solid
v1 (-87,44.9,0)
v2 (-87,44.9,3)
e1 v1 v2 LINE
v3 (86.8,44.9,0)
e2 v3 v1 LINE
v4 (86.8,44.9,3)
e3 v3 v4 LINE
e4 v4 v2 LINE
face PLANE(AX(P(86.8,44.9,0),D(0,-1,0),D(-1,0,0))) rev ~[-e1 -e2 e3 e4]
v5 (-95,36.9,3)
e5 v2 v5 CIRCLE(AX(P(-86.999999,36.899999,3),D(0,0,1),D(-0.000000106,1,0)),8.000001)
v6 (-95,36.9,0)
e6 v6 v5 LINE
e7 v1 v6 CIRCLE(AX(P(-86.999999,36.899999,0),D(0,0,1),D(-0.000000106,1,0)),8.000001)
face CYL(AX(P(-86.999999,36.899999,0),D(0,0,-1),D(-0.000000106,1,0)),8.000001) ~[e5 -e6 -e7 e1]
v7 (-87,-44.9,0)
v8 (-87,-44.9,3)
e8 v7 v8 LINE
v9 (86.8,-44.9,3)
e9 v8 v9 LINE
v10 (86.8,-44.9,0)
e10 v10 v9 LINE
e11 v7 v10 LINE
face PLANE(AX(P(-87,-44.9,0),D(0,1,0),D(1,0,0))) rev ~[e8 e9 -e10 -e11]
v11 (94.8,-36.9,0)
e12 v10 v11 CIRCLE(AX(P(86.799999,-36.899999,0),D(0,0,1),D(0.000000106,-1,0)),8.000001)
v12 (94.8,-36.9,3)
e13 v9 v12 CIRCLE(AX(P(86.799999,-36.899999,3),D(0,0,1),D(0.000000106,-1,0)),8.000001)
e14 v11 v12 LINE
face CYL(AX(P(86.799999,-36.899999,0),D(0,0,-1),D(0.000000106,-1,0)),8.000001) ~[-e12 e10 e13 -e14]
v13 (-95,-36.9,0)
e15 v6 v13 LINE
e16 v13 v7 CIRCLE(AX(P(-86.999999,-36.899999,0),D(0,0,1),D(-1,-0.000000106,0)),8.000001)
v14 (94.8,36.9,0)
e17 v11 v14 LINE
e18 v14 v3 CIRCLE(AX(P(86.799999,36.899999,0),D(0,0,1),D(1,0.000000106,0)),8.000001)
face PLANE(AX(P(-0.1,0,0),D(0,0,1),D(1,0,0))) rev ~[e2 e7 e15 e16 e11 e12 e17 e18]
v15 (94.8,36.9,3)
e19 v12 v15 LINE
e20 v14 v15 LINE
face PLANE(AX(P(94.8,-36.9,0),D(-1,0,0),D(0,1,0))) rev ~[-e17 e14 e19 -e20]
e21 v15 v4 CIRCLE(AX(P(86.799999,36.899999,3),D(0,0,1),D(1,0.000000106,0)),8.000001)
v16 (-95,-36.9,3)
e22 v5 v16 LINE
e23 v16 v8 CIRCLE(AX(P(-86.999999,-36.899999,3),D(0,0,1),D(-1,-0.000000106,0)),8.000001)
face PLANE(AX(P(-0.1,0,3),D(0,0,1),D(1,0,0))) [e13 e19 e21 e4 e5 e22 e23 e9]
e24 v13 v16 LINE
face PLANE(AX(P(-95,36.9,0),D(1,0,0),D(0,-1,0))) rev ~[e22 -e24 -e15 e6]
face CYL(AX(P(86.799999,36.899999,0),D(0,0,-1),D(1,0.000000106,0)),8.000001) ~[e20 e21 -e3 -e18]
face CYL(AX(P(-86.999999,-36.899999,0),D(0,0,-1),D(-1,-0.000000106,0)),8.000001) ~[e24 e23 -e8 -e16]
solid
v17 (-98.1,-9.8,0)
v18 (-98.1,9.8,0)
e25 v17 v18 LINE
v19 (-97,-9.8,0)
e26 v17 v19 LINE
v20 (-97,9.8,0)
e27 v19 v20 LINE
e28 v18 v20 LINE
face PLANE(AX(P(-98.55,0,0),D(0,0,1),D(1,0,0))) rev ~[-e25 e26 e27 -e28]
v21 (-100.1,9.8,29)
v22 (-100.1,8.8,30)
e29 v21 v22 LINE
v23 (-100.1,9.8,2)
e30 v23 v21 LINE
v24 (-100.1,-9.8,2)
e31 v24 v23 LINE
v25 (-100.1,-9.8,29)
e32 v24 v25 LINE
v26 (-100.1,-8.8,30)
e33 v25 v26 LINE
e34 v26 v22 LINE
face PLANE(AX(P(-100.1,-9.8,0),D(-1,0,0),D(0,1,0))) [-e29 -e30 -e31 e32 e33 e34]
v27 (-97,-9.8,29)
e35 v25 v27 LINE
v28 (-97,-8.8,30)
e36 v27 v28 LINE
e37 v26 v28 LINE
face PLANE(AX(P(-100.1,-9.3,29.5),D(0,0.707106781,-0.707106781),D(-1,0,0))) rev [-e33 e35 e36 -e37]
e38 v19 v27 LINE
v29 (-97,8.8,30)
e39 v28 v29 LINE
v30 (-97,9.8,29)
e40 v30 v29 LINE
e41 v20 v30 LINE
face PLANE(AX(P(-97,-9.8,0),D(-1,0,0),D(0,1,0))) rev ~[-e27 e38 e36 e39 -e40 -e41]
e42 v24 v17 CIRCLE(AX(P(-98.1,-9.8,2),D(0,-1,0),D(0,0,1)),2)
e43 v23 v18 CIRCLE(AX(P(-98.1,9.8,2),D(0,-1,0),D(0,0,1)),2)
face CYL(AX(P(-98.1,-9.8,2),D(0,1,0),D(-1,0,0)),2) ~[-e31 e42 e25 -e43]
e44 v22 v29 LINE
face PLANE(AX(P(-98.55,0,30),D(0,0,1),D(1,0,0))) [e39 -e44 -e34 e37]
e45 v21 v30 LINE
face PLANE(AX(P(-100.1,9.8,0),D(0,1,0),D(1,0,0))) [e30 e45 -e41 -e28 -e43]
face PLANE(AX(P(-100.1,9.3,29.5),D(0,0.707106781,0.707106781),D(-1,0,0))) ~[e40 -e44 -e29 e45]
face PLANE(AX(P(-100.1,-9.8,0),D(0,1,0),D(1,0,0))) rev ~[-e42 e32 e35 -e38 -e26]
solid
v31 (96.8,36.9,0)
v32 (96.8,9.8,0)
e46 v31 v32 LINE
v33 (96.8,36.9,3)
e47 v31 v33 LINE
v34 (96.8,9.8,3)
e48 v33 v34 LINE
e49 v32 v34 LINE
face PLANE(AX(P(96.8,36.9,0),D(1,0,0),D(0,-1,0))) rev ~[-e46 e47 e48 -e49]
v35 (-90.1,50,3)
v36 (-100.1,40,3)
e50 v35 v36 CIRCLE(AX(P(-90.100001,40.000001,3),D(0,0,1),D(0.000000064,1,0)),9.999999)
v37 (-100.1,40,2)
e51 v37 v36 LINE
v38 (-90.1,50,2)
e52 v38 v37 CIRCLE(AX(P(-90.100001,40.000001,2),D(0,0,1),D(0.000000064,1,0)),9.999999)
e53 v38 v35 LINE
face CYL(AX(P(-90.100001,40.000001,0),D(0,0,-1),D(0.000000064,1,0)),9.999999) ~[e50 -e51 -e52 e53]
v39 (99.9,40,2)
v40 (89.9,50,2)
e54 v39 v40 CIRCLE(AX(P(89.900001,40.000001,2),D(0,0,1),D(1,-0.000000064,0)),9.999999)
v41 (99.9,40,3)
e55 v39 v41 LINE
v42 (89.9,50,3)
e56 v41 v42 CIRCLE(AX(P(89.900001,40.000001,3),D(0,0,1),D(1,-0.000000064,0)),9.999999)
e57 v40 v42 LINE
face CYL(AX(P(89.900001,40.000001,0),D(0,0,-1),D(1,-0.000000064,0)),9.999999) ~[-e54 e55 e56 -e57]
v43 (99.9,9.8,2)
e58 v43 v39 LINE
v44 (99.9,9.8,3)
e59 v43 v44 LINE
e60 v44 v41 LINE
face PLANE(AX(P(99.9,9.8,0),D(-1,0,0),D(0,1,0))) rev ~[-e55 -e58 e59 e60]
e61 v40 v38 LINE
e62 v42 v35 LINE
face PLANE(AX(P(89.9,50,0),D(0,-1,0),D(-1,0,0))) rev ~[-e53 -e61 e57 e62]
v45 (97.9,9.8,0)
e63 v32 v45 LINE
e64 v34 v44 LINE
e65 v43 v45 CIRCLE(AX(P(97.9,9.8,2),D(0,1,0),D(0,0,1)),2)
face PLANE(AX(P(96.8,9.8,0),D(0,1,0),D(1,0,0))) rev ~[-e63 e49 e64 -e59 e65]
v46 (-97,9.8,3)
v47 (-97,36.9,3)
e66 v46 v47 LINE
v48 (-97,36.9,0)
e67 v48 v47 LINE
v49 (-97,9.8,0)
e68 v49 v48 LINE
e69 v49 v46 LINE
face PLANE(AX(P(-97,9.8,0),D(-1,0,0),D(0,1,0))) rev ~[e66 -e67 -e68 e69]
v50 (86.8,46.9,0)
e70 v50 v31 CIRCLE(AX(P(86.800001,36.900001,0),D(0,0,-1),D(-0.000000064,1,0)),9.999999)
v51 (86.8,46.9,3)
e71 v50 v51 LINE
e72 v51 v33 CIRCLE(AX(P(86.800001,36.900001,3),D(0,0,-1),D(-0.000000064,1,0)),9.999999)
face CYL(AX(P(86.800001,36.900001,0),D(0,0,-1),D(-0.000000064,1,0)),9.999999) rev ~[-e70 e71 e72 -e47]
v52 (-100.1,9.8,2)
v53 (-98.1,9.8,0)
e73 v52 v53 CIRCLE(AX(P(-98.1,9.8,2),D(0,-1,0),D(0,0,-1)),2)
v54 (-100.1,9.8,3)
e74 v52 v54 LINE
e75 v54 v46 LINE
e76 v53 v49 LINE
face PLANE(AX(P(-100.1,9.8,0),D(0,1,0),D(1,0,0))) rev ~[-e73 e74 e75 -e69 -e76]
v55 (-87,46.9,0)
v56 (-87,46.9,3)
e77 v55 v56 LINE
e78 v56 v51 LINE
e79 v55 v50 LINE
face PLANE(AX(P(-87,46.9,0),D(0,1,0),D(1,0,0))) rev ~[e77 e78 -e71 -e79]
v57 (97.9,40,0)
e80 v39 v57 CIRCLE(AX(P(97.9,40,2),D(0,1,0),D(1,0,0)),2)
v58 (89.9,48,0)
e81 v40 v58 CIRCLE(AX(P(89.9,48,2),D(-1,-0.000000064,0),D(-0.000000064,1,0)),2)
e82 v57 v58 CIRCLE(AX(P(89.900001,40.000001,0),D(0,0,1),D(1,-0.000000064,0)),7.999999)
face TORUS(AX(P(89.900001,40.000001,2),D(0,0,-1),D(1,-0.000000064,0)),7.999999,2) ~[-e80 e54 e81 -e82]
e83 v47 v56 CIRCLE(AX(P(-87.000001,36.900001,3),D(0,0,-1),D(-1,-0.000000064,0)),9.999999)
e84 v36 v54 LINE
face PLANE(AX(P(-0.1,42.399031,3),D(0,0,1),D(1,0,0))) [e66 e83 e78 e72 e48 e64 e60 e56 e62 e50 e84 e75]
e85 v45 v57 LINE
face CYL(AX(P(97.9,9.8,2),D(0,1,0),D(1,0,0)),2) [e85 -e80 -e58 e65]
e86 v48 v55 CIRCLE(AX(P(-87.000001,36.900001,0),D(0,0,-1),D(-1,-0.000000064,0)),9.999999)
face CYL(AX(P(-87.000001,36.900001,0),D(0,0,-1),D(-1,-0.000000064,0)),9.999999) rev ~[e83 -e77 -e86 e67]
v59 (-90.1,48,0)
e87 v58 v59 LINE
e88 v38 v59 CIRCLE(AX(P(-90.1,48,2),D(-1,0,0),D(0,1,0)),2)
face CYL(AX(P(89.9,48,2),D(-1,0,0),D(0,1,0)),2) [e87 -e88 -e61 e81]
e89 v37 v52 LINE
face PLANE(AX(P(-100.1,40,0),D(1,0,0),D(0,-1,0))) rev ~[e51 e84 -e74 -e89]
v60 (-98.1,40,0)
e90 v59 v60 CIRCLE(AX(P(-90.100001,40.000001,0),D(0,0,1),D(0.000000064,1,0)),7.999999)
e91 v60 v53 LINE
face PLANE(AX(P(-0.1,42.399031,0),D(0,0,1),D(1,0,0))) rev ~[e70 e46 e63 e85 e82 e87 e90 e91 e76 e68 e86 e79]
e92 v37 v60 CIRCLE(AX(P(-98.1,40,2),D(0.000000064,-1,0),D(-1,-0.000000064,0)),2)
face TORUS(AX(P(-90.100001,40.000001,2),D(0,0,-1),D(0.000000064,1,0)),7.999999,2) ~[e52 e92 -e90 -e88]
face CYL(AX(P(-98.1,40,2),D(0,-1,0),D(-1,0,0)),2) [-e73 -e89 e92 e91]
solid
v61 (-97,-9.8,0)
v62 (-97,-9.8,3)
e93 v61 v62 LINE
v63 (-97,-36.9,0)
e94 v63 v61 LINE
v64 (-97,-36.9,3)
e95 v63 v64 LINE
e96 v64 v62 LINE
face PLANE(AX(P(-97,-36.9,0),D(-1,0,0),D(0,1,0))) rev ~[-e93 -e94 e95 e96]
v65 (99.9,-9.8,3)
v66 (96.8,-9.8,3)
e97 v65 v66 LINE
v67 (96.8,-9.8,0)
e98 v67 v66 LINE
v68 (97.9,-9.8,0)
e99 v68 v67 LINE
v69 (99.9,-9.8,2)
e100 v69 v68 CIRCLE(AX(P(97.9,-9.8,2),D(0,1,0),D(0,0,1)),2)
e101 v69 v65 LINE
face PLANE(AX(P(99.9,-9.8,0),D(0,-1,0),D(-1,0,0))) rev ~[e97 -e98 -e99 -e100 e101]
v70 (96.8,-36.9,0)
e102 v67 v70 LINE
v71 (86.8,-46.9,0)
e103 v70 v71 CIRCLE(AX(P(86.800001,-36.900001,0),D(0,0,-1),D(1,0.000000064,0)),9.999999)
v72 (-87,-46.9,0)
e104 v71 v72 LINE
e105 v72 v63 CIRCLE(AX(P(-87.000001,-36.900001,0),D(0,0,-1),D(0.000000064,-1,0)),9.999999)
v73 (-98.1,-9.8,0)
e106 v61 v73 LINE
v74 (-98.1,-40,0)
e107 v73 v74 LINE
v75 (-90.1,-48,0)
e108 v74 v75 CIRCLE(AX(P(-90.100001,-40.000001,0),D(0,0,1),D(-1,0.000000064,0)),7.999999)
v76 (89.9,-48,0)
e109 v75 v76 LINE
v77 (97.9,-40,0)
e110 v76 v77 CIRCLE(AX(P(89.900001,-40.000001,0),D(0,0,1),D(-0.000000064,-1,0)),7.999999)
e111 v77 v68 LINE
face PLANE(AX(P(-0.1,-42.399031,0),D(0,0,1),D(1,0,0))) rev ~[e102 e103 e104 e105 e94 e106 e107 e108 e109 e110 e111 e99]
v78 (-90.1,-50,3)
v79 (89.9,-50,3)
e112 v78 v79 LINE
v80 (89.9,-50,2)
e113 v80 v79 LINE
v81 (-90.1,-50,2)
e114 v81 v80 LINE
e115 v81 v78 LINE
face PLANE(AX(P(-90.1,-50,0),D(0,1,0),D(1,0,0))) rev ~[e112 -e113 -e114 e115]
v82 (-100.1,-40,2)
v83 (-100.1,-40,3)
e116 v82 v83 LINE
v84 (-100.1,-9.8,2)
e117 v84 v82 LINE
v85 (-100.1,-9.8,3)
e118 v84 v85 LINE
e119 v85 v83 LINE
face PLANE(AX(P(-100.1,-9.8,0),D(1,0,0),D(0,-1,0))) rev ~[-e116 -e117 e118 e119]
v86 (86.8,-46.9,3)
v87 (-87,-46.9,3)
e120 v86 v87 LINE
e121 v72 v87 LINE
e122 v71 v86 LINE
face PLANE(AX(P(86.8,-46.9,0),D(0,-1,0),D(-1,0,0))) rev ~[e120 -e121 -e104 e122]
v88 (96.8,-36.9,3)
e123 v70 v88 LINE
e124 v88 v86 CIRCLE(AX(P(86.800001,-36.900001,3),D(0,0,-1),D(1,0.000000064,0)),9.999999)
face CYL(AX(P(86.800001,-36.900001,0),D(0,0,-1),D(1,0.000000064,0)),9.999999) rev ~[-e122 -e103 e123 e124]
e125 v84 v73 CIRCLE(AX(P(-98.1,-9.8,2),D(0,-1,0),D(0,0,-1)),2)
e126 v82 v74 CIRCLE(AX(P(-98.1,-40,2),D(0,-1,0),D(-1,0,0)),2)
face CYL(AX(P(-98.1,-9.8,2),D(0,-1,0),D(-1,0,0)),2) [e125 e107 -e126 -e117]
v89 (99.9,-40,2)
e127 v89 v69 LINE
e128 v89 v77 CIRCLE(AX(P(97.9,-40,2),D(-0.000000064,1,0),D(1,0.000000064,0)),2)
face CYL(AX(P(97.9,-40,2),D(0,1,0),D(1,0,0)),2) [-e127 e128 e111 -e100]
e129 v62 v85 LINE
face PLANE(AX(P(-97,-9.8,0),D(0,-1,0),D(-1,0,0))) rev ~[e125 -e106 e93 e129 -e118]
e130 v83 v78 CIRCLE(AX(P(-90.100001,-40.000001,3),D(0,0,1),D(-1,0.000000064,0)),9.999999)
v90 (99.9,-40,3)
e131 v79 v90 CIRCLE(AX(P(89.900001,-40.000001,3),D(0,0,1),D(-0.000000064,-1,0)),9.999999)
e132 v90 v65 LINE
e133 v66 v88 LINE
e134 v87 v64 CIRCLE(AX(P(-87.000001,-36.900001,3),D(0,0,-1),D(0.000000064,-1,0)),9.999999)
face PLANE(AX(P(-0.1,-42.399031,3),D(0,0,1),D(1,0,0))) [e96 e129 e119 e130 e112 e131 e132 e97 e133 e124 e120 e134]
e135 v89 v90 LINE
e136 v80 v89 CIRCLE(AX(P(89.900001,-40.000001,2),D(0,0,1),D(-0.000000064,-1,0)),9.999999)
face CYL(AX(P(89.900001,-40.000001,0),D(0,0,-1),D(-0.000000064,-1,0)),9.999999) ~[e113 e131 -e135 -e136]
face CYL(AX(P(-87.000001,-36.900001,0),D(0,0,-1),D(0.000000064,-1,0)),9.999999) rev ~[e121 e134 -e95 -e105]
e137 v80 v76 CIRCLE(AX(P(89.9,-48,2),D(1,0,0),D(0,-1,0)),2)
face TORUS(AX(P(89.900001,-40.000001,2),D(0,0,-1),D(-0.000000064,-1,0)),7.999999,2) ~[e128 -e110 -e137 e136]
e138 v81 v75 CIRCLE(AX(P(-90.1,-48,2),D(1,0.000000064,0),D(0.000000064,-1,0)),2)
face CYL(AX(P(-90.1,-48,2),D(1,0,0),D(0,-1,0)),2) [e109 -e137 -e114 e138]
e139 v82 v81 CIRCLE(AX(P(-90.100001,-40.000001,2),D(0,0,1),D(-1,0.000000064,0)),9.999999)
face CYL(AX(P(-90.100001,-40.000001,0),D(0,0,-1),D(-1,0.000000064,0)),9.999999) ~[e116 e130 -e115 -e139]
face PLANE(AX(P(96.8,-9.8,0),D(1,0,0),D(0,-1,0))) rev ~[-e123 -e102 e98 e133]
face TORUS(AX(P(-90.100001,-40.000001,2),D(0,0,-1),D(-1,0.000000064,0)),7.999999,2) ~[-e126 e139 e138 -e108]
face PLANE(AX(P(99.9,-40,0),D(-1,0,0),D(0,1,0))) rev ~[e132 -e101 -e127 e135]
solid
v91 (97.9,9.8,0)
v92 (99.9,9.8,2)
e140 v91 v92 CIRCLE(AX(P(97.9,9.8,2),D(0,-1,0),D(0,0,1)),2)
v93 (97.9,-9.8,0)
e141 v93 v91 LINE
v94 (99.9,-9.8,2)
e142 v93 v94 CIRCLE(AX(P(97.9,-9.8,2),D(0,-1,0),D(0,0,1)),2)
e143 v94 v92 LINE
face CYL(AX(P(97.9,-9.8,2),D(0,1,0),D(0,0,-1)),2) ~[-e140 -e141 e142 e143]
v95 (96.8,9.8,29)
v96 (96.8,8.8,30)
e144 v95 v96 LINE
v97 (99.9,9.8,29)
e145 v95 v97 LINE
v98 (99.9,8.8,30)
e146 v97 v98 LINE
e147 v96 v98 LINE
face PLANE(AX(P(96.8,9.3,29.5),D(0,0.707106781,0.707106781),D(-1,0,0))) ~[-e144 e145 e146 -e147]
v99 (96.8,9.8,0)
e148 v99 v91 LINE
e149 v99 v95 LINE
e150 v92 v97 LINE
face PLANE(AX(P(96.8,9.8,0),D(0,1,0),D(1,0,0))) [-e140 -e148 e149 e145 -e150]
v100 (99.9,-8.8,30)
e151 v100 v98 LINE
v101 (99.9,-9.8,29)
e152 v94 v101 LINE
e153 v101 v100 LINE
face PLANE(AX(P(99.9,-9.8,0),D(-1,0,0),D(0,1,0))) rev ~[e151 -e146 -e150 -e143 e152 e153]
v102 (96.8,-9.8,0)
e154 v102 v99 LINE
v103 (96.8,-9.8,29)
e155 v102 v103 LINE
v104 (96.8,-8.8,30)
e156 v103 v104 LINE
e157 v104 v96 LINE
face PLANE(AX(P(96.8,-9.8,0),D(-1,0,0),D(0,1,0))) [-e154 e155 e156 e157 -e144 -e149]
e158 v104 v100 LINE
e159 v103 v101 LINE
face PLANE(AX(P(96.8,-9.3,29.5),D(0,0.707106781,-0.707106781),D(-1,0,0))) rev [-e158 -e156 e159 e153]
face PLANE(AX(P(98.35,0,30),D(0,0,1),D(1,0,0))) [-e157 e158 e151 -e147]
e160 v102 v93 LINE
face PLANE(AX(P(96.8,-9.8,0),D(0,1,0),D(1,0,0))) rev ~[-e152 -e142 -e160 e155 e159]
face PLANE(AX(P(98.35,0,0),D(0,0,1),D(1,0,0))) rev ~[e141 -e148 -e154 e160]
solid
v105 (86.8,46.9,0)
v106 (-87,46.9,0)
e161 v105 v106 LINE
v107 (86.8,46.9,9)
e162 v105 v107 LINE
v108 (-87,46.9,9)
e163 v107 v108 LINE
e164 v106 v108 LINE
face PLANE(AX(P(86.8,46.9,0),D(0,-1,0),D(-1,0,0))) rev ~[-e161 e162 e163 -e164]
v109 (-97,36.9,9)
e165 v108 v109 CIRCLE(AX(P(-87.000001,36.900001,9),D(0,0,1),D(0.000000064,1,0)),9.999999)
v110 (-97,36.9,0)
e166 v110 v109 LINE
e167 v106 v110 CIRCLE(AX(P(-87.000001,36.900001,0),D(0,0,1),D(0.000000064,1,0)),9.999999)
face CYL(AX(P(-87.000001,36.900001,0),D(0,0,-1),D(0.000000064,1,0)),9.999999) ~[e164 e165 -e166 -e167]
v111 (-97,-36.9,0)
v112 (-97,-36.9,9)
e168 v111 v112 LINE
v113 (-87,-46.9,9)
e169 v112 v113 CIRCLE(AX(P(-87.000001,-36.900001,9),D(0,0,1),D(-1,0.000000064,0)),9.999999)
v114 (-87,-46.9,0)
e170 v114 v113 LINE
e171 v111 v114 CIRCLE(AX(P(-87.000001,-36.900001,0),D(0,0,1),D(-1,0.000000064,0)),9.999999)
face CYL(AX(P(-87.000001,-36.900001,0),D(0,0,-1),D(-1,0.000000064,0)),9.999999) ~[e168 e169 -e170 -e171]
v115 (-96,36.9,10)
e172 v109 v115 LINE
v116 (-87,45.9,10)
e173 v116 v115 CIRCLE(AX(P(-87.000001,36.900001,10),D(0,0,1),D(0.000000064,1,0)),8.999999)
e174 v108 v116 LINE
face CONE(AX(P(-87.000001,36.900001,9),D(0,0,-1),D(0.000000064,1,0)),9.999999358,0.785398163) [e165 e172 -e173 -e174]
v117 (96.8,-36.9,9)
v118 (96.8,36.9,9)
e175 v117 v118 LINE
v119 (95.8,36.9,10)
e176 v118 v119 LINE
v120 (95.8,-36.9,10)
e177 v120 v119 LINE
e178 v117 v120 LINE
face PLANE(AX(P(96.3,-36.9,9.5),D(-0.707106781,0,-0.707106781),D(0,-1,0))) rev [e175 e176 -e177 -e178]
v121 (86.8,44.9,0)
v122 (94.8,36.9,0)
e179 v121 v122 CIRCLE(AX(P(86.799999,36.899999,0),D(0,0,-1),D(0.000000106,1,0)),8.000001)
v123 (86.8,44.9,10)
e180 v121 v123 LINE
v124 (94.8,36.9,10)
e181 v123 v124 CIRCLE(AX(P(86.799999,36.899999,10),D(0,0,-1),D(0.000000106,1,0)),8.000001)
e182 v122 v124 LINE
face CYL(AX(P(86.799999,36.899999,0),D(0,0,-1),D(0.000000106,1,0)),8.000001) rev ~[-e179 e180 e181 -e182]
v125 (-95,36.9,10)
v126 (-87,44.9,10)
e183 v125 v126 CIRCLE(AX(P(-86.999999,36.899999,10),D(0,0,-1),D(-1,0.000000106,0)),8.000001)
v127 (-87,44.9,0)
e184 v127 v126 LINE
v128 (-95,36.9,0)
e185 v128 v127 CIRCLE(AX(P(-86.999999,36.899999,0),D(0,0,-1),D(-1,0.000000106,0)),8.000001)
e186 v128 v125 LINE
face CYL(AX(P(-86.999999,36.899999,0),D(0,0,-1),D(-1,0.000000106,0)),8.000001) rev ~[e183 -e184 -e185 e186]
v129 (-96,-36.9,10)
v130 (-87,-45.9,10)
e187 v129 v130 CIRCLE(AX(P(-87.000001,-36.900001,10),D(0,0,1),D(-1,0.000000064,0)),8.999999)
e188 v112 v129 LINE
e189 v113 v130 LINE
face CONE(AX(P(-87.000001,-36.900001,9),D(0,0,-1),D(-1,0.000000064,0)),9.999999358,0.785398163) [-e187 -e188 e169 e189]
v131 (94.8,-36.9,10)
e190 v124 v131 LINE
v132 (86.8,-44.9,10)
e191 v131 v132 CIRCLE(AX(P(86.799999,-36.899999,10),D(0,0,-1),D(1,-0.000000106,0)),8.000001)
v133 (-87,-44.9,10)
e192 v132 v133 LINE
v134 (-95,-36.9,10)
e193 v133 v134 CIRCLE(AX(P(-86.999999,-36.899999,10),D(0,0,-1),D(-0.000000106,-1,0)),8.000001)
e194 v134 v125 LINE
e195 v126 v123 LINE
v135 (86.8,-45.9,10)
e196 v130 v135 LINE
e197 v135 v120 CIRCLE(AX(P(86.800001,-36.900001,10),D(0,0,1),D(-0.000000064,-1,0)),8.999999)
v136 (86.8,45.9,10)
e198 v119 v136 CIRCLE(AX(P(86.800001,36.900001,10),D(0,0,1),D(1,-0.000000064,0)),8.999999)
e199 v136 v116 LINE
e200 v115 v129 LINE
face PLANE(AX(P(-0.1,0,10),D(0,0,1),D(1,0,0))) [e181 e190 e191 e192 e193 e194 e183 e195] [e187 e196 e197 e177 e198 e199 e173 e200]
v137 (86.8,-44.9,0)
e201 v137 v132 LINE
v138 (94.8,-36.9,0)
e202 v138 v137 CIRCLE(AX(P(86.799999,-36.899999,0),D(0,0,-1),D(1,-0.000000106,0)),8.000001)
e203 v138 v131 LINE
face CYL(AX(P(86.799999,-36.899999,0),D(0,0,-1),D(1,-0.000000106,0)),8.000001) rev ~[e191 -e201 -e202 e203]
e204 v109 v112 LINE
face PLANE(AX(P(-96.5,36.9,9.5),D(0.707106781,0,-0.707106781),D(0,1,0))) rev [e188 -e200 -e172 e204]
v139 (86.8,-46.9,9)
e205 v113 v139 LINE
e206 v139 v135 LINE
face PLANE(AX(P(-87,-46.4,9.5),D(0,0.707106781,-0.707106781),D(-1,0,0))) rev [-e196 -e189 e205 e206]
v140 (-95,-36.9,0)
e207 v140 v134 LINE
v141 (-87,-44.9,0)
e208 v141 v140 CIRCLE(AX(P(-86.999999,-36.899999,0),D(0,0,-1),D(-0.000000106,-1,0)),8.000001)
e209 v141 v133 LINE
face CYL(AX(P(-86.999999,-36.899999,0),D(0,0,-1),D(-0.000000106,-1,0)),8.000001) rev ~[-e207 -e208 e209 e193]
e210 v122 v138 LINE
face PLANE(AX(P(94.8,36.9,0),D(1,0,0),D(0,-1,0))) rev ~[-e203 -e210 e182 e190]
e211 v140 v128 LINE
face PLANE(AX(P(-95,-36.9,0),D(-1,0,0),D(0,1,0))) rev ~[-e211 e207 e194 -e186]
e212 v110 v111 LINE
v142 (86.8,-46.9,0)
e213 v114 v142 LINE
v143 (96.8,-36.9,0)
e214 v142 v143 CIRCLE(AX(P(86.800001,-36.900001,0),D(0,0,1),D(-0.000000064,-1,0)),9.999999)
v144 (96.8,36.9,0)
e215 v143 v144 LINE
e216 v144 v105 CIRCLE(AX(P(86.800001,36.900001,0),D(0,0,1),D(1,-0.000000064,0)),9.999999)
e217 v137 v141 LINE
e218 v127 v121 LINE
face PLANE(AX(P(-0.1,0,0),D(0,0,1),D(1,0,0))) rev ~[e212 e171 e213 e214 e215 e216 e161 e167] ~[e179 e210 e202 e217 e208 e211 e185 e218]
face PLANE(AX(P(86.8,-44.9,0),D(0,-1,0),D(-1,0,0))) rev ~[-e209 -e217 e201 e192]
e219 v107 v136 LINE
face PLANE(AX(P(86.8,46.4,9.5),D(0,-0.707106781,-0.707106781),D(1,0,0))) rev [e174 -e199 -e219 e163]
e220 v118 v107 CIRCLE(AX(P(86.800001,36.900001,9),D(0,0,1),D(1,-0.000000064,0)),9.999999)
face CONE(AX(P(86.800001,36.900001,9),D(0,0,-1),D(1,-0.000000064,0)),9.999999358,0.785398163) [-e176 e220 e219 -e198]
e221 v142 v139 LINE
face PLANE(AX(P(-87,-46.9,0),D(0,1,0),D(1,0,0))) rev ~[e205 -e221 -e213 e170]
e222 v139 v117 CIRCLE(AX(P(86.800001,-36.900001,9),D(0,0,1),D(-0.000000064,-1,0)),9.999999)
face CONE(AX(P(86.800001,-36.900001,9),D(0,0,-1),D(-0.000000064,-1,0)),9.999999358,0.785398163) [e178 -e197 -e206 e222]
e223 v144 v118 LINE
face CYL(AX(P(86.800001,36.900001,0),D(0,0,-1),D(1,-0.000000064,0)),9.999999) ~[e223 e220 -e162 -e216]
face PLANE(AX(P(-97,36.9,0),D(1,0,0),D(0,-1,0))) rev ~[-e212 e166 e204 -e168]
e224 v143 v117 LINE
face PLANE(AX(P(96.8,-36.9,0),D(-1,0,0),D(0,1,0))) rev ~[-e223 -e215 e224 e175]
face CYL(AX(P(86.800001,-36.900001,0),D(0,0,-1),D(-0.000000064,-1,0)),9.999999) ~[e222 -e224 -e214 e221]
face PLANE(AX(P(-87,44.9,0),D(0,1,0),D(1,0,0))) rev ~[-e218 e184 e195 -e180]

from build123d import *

# Parameters (mm, degrees)
F1_DEPTH  = 3
F2_DEPTH  = 10
F0_W      = 3.1
F0_H      = 19.6
F3_DEPTH  = 30
F4_SIZE   = 1
F4_2_SIZE = 1
F5_R      = 2
F5_2_R    = 2


with BuildPart() as f1:
    # F0 (on Top) → F1 (new body)
    with BuildSketch(Plane.XY):
        with BuildLine():
            Line((96.8, 36.9), (96.8, 9.8))
            Line((96.8, 9.8), (99.9, 9.8))
            Line((99.9, 9.8), (99.9, 40))
            ThreePointArc((99.9, 40), (96.971068, 47.071068), (89.9, 50))
            Line((89.9, 50), (-90.1, 50))
            ThreePointArc((-90.1, 50), (-97.171068, 47.071068), (-100.1, 40))
            Line((-100.1, 40), (-100.1, 9.8))
            Line((-100.1, 9.8), (-97, 9.8))
            Line((-97, 9.8), (-97, 36.9))
            ThreePointArc((-97, 36.9), (-94.071068, 43.971068), (-87, 46.9))
            Line((-87, 46.9), (86.8, 46.9))
            ThreePointArc((86.8, 46.9), (93.871068, 43.971068), (96.8, 36.9))
        make_face()
        with BuildLine():
            ThreePointArc((94.8, 36.9), (92.456854, 42.556854), (86.8, 44.9))
            Line((86.8, 44.9), (-87, 44.9))
            ThreePointArc((-87, 44.9), (-92.656854, 42.556854), (-95, 36.9))
            Line((-95, 36.9), (-95, -36.9))
            ThreePointArc((-95, -36.9), (-92.656854, -42.556854), (-87, -44.9))
            Line((-87, -44.9), (86.8, -44.9))
            ThreePointArc((86.8, -44.9), (92.456854, -42.556854), (94.8, -36.9))
            Line((94.8, -36.9), (94.8, 36.9))
        make_face()
        with BuildLine():
            ThreePointArc((96.8, -36.9), (93.871068, -43.971068), (86.8, -46.9))
            Line((86.8, -46.9), (-87, -46.9))
            ThreePointArc((-87, -46.9), (-94.071068, -43.971068), (-97, -36.9))
            Line((-97, -36.9), (-97, -9.8))
            Line((-97, -9.8), (-100.1, -9.8))
            Line((-100.1, -9.8), (-100.1, -40))
            ThreePointArc((-100.1, -40), (-97.171068, -47.071068), (-90.1, -50))
            Line((-90.1, -50), (89.9, -50))
            ThreePointArc((89.9, -50), (96.971068, -47.071068), (99.9, -40))
            Line((99.9, -40), (99.9, -9.8))
            Line((99.9, -9.8), (96.8, -9.8))
            Line((96.8, -9.8), (96.8, -36.9))
        make_face()
    extrude(amount=F1_DEPTH)

    # F5
    f5_edges = [f1.edges().sort_by_distance(p)[0] for p in [
        (99.9, -24.9, 0),
        (99.9, 24.9, 0),
    ]]
    fillet(f5_edges, radius=F5_R)


with BuildPart() as f2:
    # F0 (on Top) → F2 (new body)
    with BuildSketch(Plane.XY):
        with BuildLine():
            Line((-87, -46.9), (86.8, -46.9))
            ThreePointArc((86.8, -46.9), (93.871068, -43.971068), (96.8, -36.9))
            Line((96.8, -36.9), (96.8, -9.8))
            Line((96.8, -9.8), (96.8, 9.8))
            Line((96.8, 9.8), (96.8, 36.9))
            ThreePointArc((96.8, 36.9), (93.871068, 43.971068), (86.8, 46.9))
            Line((86.8, 46.9), (-87, 46.9))
            ThreePointArc((-87, 46.9), (-94.071068, 43.971068), (-97, 36.9))
            Line((-97, 36.9), (-97, 9.8))
            Line((-97, 9.8), (-97, -9.8))
            Line((-97, -9.8), (-97, -36.9))
            ThreePointArc((-97, -36.9), (-94.071068, -43.971068), (-87, -46.9))
        make_face()
        with BuildLine():
            Line((-87, 44.9), (86.8, 44.9))
            ThreePointArc((86.8, 44.9), (92.456854, 42.556854), (94.8, 36.9))
            Line((94.8, 36.9), (94.8, -36.9))
            ThreePointArc((94.8, -36.9), (92.456854, -42.556854), (86.8, -44.9))
            Line((86.8, -44.9), (-87, -44.9))
            ThreePointArc((-87, -44.9), (-92.656854, -42.556854), (-95, -36.9))
            Line((-95, -36.9), (-95, 36.9))
            ThreePointArc((-95, 36.9), (-92.656854, 42.556854), (-87, 44.9))
        make_face(mode=Mode.SUBTRACT)
    extrude(amount=F2_DEPTH)

    # F4#2
    f4_2_edges = [f2.edges().sort_by_distance(p)[0] for p in [
        (96.8, 0, 10),
    ]]
    chamfer(f4_2_edges, length=F4_2_SIZE)


with BuildPart() as f3:
    # F0 (on Top) → F3 (new body)
    with BuildSketch(Plane.XY):
        with Locations((-98.55, 0)):
            Rectangle(F0_W, F0_H)
        with Locations((98.35, 0)):
            Rectangle(F0_W, F0_H)
    extrude(amount=F3_DEPTH)

    # F4
    f4_edges = [f3.edges().sort_by_distance(p)[0] for p in [
        (-98.55, -9.8, 30),
        (-98.55, 9.8, 30),
        (98.35, 9.8, 30),
        (98.35, -9.8, 30),
    ]]
    chamfer(f4_edges, length=F4_SIZE)

    # F5#2
    f5_2_edges = [f3.edges().sort_by_distance(p)[0] for p in [
        (99.9, 0, 0),
        (-100.1, 0, 0),
    ]]
    fillet(f5_2_edges, radius=F5_2_R)


solid = Compound([f1.part, f2.part, f3.part])
